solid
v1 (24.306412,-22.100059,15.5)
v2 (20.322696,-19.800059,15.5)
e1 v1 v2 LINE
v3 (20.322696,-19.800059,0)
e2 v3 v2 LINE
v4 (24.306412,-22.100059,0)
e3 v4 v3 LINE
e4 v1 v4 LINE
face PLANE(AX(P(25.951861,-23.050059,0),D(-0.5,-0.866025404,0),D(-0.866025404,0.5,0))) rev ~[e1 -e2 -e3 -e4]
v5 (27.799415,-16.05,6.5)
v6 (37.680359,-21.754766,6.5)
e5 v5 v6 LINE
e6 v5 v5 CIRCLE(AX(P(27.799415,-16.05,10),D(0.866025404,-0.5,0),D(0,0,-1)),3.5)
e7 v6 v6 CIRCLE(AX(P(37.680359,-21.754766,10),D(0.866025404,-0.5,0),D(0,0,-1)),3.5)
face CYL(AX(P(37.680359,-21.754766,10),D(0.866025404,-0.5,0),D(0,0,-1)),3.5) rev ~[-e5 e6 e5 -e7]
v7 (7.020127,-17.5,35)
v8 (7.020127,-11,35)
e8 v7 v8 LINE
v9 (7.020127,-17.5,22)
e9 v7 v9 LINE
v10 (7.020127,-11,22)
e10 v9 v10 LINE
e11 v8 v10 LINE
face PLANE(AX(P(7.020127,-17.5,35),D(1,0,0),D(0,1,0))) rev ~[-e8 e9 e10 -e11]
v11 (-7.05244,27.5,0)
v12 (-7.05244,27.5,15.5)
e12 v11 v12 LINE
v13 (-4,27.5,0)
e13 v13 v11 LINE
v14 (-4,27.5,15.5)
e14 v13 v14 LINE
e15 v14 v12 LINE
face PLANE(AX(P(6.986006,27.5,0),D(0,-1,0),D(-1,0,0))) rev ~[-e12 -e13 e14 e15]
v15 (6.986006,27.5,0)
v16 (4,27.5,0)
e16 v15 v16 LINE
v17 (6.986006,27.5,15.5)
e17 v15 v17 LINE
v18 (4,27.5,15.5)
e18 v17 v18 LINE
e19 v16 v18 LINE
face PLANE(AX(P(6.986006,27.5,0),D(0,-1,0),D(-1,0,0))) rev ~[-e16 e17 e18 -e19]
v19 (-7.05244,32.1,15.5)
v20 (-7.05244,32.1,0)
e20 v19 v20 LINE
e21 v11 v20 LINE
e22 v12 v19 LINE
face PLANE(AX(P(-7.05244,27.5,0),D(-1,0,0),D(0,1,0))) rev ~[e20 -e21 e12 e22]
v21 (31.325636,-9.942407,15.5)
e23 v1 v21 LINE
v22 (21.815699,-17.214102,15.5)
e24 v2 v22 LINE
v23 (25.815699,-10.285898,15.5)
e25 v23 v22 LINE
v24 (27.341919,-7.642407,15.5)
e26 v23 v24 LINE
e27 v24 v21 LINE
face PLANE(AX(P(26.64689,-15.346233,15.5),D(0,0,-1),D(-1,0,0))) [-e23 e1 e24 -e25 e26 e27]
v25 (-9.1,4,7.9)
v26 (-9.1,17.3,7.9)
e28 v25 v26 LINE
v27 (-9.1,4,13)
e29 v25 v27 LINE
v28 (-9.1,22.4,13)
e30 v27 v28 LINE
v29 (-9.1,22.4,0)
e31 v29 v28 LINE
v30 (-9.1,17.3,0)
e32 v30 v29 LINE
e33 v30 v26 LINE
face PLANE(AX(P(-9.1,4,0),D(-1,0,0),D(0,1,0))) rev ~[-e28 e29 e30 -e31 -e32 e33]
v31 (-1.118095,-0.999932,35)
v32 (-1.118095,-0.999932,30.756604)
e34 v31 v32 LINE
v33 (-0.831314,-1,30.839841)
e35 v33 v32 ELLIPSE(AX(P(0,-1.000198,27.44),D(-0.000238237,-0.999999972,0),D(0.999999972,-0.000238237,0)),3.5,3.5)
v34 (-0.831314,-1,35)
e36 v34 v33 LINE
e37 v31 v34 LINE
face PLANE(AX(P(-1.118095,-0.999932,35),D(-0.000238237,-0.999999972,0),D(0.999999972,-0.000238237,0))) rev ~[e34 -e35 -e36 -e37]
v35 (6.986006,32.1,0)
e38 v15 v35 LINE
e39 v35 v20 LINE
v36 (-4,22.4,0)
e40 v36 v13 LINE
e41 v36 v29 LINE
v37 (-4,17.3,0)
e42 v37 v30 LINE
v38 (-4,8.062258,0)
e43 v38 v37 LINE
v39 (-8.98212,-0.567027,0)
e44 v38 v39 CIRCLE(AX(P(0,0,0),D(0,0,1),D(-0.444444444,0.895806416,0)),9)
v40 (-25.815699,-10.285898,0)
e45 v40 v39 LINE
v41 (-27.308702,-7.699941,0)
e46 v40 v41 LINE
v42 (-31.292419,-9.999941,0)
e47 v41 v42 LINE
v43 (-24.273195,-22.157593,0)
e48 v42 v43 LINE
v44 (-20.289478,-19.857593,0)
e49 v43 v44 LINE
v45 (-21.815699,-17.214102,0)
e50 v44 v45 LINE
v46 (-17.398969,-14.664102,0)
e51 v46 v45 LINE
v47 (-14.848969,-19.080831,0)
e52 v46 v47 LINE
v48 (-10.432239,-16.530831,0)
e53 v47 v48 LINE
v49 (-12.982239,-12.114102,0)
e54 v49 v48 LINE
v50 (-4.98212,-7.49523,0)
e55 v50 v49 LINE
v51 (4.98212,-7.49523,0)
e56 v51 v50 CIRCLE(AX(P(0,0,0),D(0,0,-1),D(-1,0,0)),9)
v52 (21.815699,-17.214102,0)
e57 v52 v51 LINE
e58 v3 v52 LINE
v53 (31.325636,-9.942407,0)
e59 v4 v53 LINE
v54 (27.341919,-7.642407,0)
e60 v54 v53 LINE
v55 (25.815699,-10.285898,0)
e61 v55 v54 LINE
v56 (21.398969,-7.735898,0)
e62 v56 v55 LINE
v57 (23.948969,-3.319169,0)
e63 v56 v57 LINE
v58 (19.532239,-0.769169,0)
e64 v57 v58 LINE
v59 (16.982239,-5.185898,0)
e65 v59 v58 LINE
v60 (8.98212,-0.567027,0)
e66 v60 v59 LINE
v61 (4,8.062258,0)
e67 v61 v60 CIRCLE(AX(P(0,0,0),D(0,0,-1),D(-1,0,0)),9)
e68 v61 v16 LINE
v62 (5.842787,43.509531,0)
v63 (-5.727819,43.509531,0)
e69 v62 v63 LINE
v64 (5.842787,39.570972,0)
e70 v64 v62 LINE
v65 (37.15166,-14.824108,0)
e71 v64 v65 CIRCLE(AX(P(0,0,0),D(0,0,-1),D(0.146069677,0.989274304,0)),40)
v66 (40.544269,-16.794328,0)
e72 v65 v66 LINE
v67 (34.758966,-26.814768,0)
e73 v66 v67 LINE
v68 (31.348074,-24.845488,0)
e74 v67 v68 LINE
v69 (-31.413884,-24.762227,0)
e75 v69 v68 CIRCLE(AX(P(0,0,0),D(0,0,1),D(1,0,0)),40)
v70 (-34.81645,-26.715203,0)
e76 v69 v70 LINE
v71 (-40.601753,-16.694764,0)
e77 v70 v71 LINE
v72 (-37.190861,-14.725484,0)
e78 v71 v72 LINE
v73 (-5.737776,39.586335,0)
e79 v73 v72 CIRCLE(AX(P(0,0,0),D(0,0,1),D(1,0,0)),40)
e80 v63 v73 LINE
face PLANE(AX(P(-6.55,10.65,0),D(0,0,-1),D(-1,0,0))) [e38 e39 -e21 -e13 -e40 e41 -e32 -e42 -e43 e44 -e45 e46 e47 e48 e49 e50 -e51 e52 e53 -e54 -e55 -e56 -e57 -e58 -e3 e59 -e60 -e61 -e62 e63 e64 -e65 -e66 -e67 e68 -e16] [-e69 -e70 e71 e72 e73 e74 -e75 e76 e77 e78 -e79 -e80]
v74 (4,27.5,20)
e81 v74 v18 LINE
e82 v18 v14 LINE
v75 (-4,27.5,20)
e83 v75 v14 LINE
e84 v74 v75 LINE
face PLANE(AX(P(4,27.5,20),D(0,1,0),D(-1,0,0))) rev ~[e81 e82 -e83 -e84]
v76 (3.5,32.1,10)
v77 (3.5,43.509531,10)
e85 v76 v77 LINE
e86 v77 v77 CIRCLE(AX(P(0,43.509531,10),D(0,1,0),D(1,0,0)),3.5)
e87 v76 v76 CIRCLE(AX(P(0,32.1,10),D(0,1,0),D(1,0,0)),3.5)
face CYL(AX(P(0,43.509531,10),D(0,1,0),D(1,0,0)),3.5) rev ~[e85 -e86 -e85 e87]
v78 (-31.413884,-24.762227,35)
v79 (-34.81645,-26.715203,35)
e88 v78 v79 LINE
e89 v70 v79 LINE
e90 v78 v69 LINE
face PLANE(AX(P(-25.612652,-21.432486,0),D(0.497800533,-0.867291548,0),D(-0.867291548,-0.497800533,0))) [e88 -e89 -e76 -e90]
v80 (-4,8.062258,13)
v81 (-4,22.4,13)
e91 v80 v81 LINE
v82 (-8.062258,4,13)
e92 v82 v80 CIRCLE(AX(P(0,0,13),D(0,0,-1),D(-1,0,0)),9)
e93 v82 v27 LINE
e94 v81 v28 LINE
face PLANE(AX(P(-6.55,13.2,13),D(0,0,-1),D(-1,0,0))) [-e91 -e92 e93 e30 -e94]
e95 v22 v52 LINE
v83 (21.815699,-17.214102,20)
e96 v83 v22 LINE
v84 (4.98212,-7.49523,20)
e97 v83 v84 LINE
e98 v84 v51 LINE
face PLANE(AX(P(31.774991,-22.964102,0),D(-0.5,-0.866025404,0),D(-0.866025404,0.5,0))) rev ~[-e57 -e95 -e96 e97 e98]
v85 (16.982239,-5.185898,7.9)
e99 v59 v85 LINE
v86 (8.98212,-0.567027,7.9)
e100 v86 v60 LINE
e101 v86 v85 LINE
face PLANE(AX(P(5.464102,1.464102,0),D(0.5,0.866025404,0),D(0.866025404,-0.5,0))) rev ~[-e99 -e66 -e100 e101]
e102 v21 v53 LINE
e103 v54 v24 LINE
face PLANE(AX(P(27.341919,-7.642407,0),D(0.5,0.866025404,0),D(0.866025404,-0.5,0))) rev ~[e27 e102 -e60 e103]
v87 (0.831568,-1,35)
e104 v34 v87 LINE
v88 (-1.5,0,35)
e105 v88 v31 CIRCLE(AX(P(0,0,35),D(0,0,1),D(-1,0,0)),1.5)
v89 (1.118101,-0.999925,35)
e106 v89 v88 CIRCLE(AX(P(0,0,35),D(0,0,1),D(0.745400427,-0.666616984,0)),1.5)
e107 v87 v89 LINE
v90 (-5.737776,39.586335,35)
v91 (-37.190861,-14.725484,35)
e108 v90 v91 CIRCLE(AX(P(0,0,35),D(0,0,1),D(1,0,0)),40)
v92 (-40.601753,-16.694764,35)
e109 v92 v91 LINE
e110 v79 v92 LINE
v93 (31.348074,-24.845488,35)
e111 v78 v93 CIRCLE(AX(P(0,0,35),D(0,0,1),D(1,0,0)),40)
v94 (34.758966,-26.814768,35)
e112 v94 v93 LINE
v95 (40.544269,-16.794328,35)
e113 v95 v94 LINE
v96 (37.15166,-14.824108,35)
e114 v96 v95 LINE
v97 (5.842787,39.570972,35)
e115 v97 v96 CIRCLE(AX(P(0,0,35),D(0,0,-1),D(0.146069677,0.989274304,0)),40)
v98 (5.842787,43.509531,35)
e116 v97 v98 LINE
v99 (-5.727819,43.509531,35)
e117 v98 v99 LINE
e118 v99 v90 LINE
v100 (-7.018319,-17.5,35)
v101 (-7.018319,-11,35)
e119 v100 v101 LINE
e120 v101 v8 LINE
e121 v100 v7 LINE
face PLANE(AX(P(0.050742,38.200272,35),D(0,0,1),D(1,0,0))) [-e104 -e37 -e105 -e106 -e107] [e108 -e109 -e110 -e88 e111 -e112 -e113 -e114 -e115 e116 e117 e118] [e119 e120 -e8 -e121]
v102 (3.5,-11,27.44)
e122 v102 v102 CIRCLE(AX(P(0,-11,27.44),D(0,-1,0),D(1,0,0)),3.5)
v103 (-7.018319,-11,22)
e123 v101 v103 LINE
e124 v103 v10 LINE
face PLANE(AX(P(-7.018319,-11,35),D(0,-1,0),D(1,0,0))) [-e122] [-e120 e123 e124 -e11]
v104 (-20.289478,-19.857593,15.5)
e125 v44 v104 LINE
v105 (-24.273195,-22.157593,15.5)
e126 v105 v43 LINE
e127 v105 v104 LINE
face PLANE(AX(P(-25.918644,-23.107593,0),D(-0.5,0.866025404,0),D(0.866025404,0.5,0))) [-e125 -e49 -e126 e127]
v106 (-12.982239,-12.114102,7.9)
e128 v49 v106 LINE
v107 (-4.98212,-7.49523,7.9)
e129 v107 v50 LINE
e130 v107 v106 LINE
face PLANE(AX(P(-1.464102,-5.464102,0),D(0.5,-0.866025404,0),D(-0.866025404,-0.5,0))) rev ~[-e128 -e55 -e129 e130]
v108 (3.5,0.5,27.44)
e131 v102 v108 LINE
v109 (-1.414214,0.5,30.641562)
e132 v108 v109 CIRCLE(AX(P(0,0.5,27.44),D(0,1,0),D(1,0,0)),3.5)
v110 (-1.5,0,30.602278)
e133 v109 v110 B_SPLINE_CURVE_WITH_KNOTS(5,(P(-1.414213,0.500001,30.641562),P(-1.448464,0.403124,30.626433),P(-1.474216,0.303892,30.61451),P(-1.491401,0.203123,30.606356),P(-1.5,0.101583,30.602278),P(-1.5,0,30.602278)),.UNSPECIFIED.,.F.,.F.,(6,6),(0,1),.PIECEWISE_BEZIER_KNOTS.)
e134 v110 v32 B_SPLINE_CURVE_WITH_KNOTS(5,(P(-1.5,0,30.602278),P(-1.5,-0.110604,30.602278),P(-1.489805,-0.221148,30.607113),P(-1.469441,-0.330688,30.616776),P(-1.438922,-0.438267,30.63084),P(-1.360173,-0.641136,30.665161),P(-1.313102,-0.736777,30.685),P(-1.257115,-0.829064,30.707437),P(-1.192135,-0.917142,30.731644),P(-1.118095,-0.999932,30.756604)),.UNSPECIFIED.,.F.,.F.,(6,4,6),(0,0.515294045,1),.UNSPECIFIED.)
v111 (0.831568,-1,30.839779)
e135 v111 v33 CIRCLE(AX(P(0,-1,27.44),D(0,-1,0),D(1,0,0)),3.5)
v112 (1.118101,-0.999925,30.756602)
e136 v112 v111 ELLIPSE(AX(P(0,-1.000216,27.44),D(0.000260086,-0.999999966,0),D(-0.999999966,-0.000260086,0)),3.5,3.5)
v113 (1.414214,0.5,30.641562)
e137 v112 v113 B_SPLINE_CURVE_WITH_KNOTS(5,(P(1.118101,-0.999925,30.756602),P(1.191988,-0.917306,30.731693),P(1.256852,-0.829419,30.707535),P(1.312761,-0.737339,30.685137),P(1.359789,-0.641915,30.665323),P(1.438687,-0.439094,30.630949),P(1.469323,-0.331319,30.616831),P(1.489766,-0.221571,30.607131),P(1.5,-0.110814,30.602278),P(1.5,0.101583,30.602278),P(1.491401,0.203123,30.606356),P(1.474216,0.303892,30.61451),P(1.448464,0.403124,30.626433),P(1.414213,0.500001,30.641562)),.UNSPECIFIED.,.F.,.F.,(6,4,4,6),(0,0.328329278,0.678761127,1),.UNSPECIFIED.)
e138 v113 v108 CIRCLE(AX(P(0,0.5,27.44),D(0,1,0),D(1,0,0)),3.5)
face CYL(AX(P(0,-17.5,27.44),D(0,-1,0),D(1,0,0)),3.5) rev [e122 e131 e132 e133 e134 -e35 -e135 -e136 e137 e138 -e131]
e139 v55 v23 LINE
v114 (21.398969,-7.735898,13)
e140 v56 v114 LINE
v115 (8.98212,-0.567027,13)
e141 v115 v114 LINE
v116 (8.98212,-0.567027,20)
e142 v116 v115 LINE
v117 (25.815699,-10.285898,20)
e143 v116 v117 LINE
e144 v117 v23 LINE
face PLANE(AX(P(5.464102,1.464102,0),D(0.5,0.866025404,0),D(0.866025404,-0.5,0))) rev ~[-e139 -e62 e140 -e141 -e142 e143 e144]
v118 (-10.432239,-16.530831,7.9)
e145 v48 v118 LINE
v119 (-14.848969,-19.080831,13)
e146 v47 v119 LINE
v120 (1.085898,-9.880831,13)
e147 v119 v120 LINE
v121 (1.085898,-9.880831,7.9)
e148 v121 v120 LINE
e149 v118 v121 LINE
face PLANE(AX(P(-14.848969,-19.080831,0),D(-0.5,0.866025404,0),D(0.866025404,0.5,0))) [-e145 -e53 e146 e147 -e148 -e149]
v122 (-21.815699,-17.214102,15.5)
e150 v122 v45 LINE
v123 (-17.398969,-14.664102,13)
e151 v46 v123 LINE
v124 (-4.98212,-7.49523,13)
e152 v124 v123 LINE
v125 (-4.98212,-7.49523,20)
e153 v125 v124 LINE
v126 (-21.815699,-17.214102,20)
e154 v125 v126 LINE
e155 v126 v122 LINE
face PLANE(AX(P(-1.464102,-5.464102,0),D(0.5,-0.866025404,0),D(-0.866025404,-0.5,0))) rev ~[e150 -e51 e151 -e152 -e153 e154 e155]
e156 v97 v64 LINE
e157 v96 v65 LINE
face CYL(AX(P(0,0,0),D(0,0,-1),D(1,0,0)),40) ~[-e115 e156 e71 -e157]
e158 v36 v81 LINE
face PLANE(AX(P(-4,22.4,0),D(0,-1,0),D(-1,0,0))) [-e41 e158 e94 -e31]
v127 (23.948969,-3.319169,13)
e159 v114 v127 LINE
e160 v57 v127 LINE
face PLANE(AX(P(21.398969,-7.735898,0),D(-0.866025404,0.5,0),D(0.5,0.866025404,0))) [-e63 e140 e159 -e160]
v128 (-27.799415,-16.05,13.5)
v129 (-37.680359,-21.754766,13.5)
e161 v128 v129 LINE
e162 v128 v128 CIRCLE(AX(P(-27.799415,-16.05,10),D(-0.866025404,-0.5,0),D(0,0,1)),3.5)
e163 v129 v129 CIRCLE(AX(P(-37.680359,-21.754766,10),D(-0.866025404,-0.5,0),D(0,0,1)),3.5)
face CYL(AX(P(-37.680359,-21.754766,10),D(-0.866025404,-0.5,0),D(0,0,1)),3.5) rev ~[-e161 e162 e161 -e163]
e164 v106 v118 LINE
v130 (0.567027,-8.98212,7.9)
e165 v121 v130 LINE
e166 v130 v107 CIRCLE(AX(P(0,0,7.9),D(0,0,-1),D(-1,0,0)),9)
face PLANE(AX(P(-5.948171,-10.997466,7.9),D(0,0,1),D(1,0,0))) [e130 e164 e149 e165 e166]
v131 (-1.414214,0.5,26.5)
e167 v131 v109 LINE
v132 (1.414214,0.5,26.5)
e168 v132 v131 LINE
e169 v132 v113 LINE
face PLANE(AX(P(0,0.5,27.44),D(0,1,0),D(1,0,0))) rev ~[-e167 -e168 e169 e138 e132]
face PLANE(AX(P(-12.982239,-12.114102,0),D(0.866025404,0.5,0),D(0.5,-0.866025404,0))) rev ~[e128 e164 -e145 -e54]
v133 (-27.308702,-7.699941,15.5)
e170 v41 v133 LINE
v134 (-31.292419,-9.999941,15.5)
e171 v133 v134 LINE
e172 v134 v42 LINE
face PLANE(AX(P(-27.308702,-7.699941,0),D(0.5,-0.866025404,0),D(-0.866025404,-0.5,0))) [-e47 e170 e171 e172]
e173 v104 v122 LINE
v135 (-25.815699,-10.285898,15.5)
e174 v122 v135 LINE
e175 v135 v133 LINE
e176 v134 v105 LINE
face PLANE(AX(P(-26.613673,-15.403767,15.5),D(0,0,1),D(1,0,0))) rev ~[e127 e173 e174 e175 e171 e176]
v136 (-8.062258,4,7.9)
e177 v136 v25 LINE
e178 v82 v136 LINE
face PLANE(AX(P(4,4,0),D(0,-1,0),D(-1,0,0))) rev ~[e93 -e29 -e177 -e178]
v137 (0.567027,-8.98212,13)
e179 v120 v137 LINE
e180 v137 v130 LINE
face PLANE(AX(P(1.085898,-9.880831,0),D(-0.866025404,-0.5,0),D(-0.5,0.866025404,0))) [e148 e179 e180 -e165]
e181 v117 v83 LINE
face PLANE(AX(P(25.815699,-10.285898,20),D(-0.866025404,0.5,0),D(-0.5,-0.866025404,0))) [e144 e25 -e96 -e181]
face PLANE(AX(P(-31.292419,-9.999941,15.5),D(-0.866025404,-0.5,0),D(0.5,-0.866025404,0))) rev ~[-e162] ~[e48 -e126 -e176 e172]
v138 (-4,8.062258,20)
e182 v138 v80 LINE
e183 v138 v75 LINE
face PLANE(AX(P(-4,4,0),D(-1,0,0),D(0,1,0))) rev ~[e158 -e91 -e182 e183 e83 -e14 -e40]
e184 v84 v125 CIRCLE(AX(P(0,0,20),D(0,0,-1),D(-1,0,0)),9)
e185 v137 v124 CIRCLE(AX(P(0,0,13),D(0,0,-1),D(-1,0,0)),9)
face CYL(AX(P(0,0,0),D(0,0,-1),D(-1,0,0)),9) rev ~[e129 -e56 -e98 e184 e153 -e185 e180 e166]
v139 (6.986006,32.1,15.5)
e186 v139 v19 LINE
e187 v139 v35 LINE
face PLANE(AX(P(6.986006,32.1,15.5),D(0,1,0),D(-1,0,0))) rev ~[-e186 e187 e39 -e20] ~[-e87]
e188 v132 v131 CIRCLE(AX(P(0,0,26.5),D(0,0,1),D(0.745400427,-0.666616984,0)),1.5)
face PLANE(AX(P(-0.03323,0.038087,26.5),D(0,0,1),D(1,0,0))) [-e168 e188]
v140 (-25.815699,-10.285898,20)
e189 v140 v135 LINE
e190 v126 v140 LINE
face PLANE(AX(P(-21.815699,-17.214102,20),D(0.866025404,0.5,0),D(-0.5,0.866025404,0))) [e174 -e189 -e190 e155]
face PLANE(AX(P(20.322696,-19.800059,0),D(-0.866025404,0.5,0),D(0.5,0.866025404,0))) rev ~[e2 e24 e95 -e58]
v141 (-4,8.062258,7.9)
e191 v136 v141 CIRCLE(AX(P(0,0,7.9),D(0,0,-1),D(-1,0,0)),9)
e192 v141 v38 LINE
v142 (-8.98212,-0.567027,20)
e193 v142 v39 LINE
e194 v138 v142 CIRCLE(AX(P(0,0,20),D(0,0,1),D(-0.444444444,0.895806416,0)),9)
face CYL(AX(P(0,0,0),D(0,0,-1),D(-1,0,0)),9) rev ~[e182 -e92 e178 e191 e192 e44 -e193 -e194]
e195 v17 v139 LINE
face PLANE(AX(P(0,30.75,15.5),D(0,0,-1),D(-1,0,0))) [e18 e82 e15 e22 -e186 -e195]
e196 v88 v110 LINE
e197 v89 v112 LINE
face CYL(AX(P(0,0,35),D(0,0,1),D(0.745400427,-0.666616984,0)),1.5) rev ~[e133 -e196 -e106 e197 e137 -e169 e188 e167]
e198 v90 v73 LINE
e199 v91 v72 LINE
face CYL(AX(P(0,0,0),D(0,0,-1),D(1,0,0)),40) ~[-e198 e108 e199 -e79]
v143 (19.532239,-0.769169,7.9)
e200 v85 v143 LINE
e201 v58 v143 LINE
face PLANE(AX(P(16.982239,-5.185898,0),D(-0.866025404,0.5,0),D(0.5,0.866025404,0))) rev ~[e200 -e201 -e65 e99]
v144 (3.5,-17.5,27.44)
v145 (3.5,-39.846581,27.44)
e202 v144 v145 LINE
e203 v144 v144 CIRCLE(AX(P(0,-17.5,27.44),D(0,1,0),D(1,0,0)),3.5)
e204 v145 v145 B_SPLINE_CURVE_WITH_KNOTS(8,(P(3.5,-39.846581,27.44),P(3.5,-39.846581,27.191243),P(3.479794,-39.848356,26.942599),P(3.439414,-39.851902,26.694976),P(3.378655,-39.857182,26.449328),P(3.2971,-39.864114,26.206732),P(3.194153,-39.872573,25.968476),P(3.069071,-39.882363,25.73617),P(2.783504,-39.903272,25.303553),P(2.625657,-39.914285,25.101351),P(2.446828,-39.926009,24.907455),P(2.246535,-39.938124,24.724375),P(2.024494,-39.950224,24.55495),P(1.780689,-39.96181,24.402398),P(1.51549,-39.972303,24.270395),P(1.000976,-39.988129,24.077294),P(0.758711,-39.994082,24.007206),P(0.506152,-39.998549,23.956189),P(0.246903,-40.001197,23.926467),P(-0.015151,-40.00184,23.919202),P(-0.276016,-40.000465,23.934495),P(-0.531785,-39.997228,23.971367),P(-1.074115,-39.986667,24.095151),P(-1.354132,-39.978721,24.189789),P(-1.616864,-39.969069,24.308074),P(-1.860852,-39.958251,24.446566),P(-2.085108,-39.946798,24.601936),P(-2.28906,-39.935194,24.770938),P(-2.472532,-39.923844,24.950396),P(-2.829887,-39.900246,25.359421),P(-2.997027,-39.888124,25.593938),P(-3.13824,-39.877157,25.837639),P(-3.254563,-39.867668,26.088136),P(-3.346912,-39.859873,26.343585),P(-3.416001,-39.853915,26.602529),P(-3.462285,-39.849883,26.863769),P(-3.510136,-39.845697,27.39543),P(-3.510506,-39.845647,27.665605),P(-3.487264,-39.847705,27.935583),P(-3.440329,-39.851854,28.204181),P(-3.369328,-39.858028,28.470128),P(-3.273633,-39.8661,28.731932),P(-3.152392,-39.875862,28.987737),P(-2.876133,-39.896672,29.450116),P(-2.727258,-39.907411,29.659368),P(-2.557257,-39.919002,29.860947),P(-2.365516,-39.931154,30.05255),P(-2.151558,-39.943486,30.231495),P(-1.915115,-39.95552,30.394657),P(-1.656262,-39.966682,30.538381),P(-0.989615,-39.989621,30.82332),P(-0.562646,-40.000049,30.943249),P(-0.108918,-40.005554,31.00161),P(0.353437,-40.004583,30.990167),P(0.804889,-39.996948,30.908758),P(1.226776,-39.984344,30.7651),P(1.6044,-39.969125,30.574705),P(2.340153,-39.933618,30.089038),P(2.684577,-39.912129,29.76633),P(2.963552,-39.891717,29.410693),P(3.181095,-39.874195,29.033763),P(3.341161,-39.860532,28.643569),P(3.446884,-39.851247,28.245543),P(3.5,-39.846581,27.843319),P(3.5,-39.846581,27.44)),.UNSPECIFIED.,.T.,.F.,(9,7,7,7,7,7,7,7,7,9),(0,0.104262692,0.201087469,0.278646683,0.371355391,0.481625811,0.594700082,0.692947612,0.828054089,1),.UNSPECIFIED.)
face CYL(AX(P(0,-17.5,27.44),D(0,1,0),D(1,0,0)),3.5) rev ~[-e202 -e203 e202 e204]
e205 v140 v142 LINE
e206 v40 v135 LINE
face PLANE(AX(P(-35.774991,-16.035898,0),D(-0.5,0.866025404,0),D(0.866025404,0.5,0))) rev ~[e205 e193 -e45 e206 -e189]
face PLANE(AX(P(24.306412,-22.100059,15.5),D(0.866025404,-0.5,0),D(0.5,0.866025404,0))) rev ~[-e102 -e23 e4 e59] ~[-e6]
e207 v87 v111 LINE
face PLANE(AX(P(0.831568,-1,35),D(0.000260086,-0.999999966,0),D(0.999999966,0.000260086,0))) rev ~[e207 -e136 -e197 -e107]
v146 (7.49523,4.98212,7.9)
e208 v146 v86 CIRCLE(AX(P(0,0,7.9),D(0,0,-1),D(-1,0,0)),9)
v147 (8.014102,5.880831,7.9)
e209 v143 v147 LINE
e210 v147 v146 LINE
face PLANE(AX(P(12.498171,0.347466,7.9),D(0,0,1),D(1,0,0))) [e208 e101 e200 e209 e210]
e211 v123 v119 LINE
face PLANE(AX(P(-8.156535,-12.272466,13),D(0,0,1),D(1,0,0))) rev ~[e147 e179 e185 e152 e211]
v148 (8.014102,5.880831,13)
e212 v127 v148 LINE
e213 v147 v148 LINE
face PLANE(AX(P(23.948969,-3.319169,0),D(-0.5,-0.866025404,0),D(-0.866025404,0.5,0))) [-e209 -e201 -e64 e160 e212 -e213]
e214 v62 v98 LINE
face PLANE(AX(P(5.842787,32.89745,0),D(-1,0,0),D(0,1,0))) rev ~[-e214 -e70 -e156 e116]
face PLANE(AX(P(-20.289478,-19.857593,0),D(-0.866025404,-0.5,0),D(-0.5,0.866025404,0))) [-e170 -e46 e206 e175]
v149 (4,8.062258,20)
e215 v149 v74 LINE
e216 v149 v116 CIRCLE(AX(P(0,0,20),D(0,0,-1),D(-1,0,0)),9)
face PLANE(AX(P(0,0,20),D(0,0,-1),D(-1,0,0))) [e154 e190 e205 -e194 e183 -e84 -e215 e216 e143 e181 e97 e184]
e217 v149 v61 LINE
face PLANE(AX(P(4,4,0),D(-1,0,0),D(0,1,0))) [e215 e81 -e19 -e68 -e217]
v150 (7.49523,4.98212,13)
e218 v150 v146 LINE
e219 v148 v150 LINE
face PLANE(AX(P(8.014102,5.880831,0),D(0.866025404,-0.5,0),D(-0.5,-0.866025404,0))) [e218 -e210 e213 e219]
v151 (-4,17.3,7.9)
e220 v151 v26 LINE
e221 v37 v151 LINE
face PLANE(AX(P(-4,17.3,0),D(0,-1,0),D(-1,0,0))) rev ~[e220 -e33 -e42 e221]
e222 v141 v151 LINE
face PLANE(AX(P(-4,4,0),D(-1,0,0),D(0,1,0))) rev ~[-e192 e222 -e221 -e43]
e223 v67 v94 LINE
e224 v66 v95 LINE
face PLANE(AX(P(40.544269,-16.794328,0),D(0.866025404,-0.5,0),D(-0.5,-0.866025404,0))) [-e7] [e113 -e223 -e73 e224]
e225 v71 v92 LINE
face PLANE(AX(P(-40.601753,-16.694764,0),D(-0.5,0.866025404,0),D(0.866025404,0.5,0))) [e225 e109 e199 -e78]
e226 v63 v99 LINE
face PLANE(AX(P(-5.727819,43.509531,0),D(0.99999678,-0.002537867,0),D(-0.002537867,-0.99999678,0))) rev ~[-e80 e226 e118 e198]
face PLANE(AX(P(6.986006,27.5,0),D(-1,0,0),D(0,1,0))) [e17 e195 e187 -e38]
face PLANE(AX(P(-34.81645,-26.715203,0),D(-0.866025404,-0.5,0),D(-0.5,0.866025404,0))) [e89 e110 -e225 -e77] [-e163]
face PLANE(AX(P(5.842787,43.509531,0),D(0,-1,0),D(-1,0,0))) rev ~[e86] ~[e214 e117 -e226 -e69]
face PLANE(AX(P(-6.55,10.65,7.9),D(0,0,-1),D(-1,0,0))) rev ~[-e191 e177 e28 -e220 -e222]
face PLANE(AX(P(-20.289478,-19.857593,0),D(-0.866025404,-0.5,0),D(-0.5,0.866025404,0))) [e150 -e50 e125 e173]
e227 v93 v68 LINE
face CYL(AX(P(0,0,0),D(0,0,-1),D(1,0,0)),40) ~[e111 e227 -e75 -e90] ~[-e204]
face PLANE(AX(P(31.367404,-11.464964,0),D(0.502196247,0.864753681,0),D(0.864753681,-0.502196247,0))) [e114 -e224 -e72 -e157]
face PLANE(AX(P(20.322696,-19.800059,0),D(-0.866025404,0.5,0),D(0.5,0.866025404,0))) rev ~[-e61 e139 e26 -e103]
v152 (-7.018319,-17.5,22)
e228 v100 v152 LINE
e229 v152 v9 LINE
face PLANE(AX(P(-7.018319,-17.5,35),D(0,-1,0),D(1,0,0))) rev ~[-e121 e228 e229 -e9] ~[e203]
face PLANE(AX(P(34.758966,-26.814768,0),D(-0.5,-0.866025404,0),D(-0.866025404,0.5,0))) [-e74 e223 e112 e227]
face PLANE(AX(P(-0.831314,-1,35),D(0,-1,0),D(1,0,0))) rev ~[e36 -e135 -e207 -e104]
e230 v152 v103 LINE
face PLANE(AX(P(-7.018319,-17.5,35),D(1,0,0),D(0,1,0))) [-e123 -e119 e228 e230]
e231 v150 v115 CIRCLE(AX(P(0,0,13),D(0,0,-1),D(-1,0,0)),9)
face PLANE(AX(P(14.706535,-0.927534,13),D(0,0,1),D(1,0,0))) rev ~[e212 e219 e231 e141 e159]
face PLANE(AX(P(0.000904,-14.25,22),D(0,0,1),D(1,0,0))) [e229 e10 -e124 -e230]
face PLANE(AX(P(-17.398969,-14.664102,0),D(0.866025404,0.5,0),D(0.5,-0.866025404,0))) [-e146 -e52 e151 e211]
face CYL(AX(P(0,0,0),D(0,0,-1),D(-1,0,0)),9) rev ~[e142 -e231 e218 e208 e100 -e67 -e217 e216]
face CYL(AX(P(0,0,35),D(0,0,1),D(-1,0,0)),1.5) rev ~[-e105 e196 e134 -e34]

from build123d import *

# Parameters (mm, degrees)
SKETCH2_R                = 40
BOSS_EXTRUDE1_DEPTH      = 35
SKETCH3_W                = 8
SKETCH3_H                = 35
CUT_EXTRUDE1_DEPTH       = 20
SKETCH4_R                = 3.5
CUT_EXTRUDE2_DEPTH       = 80
SKETCH5_R                = 3.5
CUT_EXTRUDE3_DEPTH       = 50
SKETCH6_R                = 3.5
CUT_EXTRUDE4_DEPTH       = 50
SKETCH8_W                = 14.038446545
SKETCH8_H                = 6.5
CUT_EXTRUDE5_DEPTH       = 15.5
SKETCH11_W               = 8
SKETCH11_H               = 6.5
BOSS_EXTRUDE2_DEPTH      = 4.5
BOSS_EXTRUDE3_DEPTH      = 15.5
BOSS_EXTRUDE4_DEPTH      = 35
SKETCH18_R               = 3.5
CUT_EXTRUDE9_DEPTH       = 25
SKETCH19_R               = 3.5
CUT_EXTRUDE10_DEPTH      = 25
SKETCH20_R               = 3.5
CUT_EXTRUDE11_DEPTH      = 25
SKETCH21_W               = 5.1
SKETCH21_H               = 18.4
CUT_EXTRUDE12_DEPTH      = 13
SKETCH23_W               = 5.1
SKETCH23_H               = 18.4
CUT_EXTRUDE13_DEPTH      = 13
SKETCH22_W               = 5.1
SKETCH22_H               = 13.3
BOSS_EXTRUDE5_DEPTH      = 7.9
CUT_EXTRUDE14_DEPTH      = 8.5
SKETCH25_R               = 9
CUT_EXTRUDE15_DEPTH      = 20
SKETCH27_W               = 14.038446545
SKETCH27_H               = 6.5
CUT_EXTRUDE16_DEPTH      = 13
SKETCH28_R               = 3.5
CUT_EXTRUDE18_DEPTH      = 18
CUT_EXTRUDE18_DEPTH_BACK = 50


with BuildPart() as part:
    # Sketch2 → Boss-Extrude1 (new body)
    with BuildSketch(Plane.XY):
        Circle(SKETCH2_R)
    extrude(amount=BOSS_EXTRUDE1_DEPTH)

    # Sketch3 → Cut-Extrude1 (cut)
    with BuildSketch(Plane(origin=(0, 0, 0), x_dir=(-1, 0, 0), z_dir=(0, 0, -1))):
        with Locations((0, 21.5)):
            Rectangle(SKETCH3_W, SKETCH3_H)
        Polygon((31.774990748, -22.964101615), (35.774990748, -16.035898385), (5.464101615, 1.464101615), (1.464101615, -5.464101615), align=None)
        Polygon((-35.774990748, -16.035898385), (-31.774990748, -22.964101615), (-1.464101615, -5.464101615), (-5.464101615, 1.464101615), align=None)
    extrude(amount=-CUT_EXTRUDE1_DEPTH, mode=Mode.SUBTRACT)

    # Sketch4 → Cut-Extrude2 (cut)
    with BuildSketch(Plane(origin=(-3.464101615, -2, 0), x_dir=(0, 0, 1), z_dir=(-0.866025404, -0.5, 0))):
        with Locations((10, 0)):
            Circle(SKETCH4_R)
    extrude(amount=CUT_EXTRUDE2_DEPTH, mode=Mode.SUBTRACT)

    # Sketch5 → Cut-Extrude3 (cut)
    with BuildSketch(Plane(origin=(0, 4, 0), x_dir=(1, 0, 0), z_dir=(0, 1, 0))):
        with Locations((0, -10)):
            Circle(SKETCH5_R)
    extrude(amount=CUT_EXTRUDE3_DEPTH, mode=Mode.SUBTRACT)

    # Sketch6 → Cut-Extrude4 (cut)
    with BuildSketch(Plane(origin=(3.464101615, -2, 0), x_dir=(0, 0, -1), z_dir=(0.866025404, -0.5, 0))):
        with Locations((-10, 0)):
            Circle(SKETCH6_R)
    extrude(amount=CUT_EXTRUDE4_DEPTH, mode=Mode.SUBTRACT)

    # Sketch8 → Cut-Extrude5 (cut)
    with BuildSketch(Plane(origin=(0, 0, 0), x_dir=(-1, 0, 0), z_dir=(0, 0, -1))):
        Polygon((-32.971083956, -10.892407408), (-25.951860683, -23.050058746), (-20.322695558, -19.800058746), (-27.341918831, -7.642407408), align=None)
        with Locations((0.033217181, 30.75)):
            Rectangle(SKETCH8_W, SKETCH8_H)
        Polygon((27.30870165, -7.699941254), (32.937866774, -10.949941254), (25.918643502, -23.107592592), (20.289478377, -19.857592592), align=None)
    extrude(amount=-CUT_EXTRUDE5_DEPTH, mode=Mode.SUBTRACT)

    # Sketch11 → Boss-Extrude2 (add)
    with BuildSketch(Plane(origin=(0, 0, 20), x_dir=(-1, 0, 0), z_dir=(0, 0, -1))):
        with Locations((0, 30.75)):
            Rectangle(SKETCH11_W, SKETCH11_H)
        Polygon((25.815698604, -10.285898385), (31.444863729, -13.535898385), (27.444863729, -20.464101615), (21.815698604, -17.214101615), align=None)
        Polygon((-21.815698604, -17.214101615), (-27.444863729, -20.464101615), (-31.444863729, -13.535898385), (-25.815698604, -10.285898385), align=None)
    extrude(amount=BOSS_EXTRUDE2_DEPTH)

    # Sketch12 → Boss-Extrude3 (add)
    with BuildSketch(Plane(origin=(0, 0, 15.5), x_dir=(-1, 0, 0), z_dir=(0, 0, -1))):
        Polygon((-6.986006091, 32.1), (7.052440454, 32.1), (7.052440454, 34), (4, 34), (4, 39), (-4, 39), (-4, 34), (-6.986006091, 34), align=None)
        Polygon((25.918643502, -23.107592592), (27.444863729, -20.464101615), (31.774990748, -22.964101615), (35.774990748, -16.035898385), (31.444863729, -13.535898385), (32.937866774, -10.949941254), (31.292418507, -9.999941254), (24.273195235, -22.157592592), align=None)
        Polygon((-32.971083956, -10.892407408), (-31.444863729, -13.535898385), (-35.774990748, -16.035898385), (-31.774990748, -22.964101615), (-27.444863729, -20.464101615), (-25.951860683, -23.050058746), (-24.306412416, -22.100058746), (-31.325635688, -9.942407408), align=None)
    extrude(amount=BOSS_EXTRUDE3_DEPTH)

    # Sketch17 → Boss-Extrude4 (add)
    with BuildSketch(Plane(origin=(0, 0, 0), x_dir=(-1, 0, 0), z_dir=(0, 0, -1))):
        Polygon((-5.842787082, 32.897450406), (-5.842787082, 43.509531182), (5.727819383, 43.509531182), (5.754751517, 32.897450406), align=None)
        Polygon((31.411421312, -11.388723161), (25.612652013, -21.432486209), (34.816449619, -26.715202685), (40.601752851, -16.69476355), align=None)
        Polygon((-25.568634231, -21.508727245), (-31.36740353, -11.464964197), (-40.544269002, -16.794328497), (-34.75896577, -26.814767633), align=None)
    extrude(amount=-BOSS_EXTRUDE4_DEPTH)

    # Sketch18 → Cut-Extrude9 (cut, symmetric)
    with BuildSketch(Plane(origin=(-37.680359311, -21.754765591, 0), x_dir=(0, 0, 1), z_dir=(-0.866025404, -0.5, 0))):
        with Locations((10, 0)):
            Circle(SKETCH18_R)
    extrude(amount=CUT_EXTRUDE9_DEPTH, both=True, mode=Mode.SUBTRACT)

    # Sketch19 → Cut-Extrude10 (cut, symmetric)
    with BuildSketch(Plane(origin=(37.680359311, -21.754765591, 0), x_dir=(0, 0, -1), z_dir=(0.866025404, -0.5, 0))):
        with Locations((-10, 0)):
            Circle(SKETCH19_R)
    extrude(amount=CUT_EXTRUDE10_DEPTH, both=True, mode=Mode.SUBTRACT)

    # Sketch20 → Cut-Extrude11 (cut, symmetric)
    with BuildSketch(Plane(origin=(0, 43.509531182, 0), x_dir=(1, 0, 0), z_dir=(0, 1, 0))):
        with Locations((0, -10)):
            Circle(SKETCH20_R)
    extrude(amount=CUT_EXTRUDE11_DEPTH, both=True, mode=Mode.SUBTRACT)

    # Sketch21 → Cut-Extrude12 (cut)
    with BuildSketch(Plane(origin=(0, 0, 0), x_dir=(-1, 0, 0), z_dir=(0, 0, -1))):
        with Locations((6.55, 13.2)):
            Rectangle(SKETCH21_W, SKETCH21_H)
    extrude(amount=-CUT_EXTRUDE12_DEPTH, mode=Mode.SUBTRACT)

    # Sketch23 → Cut-Extrude13 (cut)
    with BuildSketch(Plane(origin=(0, 0, 0), x_dir=(-1, 0, 0), z_dir=(0, 0, -1))):
        with Locations((6.55, 13.2)):
            Rectangle(SKETCH23_W, SKETCH23_H)
        Polygon((-1.085898385, -9.880831174), (1.464101615, -5.464101615), (17.398969045, -14.664101615), (14.848969045, -19.080831174), align=None)
        Polygon((-8.014101615, 5.880831174), (-5.464101615, 1.464101615), (-21.398969045, -7.735898385), (-23.948969045, -3.319168826), align=None)
    extrude(amount=-CUT_EXTRUDE13_DEPTH, mode=Mode.SUBTRACT)

    # Sketch22 → Boss-Extrude5 (add)
    with BuildSketch(Plane(origin=(0, 0, 0), x_dir=(-1, 0, 0), z_dir=(0, 0, -1))):
        with Locations((6.55, 10.65)):
            Rectangle(SKETCH22_W, SKETCH22_H)
        Polygon((-1.085898385, -9.880831174), (1.464101615, -5.464101615), (12.982239485, -12.114101615), (10.432239485, -16.530831174), align=None)
        Polygon((-8.014101615, 5.880831174), (-5.464101615, 1.464101615), (-16.982239485, -5.185898385), (-19.532239485, -0.769168826), align=None)
    extrude(amount=-BOSS_EXTRUDE5_DEPTH)

    # Sketch24 → Cut-Extrude14 (cut)
    with BuildSketch(Plane.XY.offset(35)):
        with BuildLine():
            Line((0.831568399, -1), (1.11810064, -0.999925477))
            ThreePointArc((1.11810064, -0.999925477), (0.535186435, 1.401276375), (-1.5, 0))
            ThreePointArc((-1.5, 0), (-1.401274891, -0.535190321), (-1.118095094, -0.999931678))
            Line((-1.118095094, -0.999931678), (-0.831313787, -1))
            Line((-0.831313787, -1), (0.831568399, -1))
        make_face()
    extrude(amount=-CUT_EXTRUDE14_DEPTH, mode=Mode.SUBTRACT)

    # Sketch25 → Cut-Extrude15 (cut)
    with BuildSketch(Plane(origin=(0, 0, 0), x_dir=(-1, 0, 0), z_dir=(0, 0, -1))):
        Circle(SKETCH25_R)
    extrude(amount=-CUT_EXTRUDE15_DEPTH, mode=Mode.SUBTRACT)

    # Sketch27 → Cut-Extrude16 (cut)
    with BuildSketch(Plane.XY.offset(35)):
        with Locations((0.000904033, -14.25)):
            Rectangle(SKETCH27_W, SKETCH27_H)
    extrude(amount=-CUT_EXTRUDE16_DEPTH, mode=Mode.SUBTRACT)

    # Sketch28 → Cut-Extrude18 (cut, two sides)
    with BuildSketch(Plane(origin=(0, -17.5, 0), x_dir=(1, 0, 0), z_dir=(0, 1, 0))) as cut_extrude18_sk:
        with Locations((0, -27.44)):
            Circle(SKETCH28_R)
    extrude(amount=CUT_EXTRUDE18_DEPTH, mode=Mode.SUBTRACT)
    extrude(cut_extrude18_sk.sketch, amount=-CUT_EXTRUDE18_DEPTH_BACK, mode=Mode.SUBTRACT)


solid = part.part
